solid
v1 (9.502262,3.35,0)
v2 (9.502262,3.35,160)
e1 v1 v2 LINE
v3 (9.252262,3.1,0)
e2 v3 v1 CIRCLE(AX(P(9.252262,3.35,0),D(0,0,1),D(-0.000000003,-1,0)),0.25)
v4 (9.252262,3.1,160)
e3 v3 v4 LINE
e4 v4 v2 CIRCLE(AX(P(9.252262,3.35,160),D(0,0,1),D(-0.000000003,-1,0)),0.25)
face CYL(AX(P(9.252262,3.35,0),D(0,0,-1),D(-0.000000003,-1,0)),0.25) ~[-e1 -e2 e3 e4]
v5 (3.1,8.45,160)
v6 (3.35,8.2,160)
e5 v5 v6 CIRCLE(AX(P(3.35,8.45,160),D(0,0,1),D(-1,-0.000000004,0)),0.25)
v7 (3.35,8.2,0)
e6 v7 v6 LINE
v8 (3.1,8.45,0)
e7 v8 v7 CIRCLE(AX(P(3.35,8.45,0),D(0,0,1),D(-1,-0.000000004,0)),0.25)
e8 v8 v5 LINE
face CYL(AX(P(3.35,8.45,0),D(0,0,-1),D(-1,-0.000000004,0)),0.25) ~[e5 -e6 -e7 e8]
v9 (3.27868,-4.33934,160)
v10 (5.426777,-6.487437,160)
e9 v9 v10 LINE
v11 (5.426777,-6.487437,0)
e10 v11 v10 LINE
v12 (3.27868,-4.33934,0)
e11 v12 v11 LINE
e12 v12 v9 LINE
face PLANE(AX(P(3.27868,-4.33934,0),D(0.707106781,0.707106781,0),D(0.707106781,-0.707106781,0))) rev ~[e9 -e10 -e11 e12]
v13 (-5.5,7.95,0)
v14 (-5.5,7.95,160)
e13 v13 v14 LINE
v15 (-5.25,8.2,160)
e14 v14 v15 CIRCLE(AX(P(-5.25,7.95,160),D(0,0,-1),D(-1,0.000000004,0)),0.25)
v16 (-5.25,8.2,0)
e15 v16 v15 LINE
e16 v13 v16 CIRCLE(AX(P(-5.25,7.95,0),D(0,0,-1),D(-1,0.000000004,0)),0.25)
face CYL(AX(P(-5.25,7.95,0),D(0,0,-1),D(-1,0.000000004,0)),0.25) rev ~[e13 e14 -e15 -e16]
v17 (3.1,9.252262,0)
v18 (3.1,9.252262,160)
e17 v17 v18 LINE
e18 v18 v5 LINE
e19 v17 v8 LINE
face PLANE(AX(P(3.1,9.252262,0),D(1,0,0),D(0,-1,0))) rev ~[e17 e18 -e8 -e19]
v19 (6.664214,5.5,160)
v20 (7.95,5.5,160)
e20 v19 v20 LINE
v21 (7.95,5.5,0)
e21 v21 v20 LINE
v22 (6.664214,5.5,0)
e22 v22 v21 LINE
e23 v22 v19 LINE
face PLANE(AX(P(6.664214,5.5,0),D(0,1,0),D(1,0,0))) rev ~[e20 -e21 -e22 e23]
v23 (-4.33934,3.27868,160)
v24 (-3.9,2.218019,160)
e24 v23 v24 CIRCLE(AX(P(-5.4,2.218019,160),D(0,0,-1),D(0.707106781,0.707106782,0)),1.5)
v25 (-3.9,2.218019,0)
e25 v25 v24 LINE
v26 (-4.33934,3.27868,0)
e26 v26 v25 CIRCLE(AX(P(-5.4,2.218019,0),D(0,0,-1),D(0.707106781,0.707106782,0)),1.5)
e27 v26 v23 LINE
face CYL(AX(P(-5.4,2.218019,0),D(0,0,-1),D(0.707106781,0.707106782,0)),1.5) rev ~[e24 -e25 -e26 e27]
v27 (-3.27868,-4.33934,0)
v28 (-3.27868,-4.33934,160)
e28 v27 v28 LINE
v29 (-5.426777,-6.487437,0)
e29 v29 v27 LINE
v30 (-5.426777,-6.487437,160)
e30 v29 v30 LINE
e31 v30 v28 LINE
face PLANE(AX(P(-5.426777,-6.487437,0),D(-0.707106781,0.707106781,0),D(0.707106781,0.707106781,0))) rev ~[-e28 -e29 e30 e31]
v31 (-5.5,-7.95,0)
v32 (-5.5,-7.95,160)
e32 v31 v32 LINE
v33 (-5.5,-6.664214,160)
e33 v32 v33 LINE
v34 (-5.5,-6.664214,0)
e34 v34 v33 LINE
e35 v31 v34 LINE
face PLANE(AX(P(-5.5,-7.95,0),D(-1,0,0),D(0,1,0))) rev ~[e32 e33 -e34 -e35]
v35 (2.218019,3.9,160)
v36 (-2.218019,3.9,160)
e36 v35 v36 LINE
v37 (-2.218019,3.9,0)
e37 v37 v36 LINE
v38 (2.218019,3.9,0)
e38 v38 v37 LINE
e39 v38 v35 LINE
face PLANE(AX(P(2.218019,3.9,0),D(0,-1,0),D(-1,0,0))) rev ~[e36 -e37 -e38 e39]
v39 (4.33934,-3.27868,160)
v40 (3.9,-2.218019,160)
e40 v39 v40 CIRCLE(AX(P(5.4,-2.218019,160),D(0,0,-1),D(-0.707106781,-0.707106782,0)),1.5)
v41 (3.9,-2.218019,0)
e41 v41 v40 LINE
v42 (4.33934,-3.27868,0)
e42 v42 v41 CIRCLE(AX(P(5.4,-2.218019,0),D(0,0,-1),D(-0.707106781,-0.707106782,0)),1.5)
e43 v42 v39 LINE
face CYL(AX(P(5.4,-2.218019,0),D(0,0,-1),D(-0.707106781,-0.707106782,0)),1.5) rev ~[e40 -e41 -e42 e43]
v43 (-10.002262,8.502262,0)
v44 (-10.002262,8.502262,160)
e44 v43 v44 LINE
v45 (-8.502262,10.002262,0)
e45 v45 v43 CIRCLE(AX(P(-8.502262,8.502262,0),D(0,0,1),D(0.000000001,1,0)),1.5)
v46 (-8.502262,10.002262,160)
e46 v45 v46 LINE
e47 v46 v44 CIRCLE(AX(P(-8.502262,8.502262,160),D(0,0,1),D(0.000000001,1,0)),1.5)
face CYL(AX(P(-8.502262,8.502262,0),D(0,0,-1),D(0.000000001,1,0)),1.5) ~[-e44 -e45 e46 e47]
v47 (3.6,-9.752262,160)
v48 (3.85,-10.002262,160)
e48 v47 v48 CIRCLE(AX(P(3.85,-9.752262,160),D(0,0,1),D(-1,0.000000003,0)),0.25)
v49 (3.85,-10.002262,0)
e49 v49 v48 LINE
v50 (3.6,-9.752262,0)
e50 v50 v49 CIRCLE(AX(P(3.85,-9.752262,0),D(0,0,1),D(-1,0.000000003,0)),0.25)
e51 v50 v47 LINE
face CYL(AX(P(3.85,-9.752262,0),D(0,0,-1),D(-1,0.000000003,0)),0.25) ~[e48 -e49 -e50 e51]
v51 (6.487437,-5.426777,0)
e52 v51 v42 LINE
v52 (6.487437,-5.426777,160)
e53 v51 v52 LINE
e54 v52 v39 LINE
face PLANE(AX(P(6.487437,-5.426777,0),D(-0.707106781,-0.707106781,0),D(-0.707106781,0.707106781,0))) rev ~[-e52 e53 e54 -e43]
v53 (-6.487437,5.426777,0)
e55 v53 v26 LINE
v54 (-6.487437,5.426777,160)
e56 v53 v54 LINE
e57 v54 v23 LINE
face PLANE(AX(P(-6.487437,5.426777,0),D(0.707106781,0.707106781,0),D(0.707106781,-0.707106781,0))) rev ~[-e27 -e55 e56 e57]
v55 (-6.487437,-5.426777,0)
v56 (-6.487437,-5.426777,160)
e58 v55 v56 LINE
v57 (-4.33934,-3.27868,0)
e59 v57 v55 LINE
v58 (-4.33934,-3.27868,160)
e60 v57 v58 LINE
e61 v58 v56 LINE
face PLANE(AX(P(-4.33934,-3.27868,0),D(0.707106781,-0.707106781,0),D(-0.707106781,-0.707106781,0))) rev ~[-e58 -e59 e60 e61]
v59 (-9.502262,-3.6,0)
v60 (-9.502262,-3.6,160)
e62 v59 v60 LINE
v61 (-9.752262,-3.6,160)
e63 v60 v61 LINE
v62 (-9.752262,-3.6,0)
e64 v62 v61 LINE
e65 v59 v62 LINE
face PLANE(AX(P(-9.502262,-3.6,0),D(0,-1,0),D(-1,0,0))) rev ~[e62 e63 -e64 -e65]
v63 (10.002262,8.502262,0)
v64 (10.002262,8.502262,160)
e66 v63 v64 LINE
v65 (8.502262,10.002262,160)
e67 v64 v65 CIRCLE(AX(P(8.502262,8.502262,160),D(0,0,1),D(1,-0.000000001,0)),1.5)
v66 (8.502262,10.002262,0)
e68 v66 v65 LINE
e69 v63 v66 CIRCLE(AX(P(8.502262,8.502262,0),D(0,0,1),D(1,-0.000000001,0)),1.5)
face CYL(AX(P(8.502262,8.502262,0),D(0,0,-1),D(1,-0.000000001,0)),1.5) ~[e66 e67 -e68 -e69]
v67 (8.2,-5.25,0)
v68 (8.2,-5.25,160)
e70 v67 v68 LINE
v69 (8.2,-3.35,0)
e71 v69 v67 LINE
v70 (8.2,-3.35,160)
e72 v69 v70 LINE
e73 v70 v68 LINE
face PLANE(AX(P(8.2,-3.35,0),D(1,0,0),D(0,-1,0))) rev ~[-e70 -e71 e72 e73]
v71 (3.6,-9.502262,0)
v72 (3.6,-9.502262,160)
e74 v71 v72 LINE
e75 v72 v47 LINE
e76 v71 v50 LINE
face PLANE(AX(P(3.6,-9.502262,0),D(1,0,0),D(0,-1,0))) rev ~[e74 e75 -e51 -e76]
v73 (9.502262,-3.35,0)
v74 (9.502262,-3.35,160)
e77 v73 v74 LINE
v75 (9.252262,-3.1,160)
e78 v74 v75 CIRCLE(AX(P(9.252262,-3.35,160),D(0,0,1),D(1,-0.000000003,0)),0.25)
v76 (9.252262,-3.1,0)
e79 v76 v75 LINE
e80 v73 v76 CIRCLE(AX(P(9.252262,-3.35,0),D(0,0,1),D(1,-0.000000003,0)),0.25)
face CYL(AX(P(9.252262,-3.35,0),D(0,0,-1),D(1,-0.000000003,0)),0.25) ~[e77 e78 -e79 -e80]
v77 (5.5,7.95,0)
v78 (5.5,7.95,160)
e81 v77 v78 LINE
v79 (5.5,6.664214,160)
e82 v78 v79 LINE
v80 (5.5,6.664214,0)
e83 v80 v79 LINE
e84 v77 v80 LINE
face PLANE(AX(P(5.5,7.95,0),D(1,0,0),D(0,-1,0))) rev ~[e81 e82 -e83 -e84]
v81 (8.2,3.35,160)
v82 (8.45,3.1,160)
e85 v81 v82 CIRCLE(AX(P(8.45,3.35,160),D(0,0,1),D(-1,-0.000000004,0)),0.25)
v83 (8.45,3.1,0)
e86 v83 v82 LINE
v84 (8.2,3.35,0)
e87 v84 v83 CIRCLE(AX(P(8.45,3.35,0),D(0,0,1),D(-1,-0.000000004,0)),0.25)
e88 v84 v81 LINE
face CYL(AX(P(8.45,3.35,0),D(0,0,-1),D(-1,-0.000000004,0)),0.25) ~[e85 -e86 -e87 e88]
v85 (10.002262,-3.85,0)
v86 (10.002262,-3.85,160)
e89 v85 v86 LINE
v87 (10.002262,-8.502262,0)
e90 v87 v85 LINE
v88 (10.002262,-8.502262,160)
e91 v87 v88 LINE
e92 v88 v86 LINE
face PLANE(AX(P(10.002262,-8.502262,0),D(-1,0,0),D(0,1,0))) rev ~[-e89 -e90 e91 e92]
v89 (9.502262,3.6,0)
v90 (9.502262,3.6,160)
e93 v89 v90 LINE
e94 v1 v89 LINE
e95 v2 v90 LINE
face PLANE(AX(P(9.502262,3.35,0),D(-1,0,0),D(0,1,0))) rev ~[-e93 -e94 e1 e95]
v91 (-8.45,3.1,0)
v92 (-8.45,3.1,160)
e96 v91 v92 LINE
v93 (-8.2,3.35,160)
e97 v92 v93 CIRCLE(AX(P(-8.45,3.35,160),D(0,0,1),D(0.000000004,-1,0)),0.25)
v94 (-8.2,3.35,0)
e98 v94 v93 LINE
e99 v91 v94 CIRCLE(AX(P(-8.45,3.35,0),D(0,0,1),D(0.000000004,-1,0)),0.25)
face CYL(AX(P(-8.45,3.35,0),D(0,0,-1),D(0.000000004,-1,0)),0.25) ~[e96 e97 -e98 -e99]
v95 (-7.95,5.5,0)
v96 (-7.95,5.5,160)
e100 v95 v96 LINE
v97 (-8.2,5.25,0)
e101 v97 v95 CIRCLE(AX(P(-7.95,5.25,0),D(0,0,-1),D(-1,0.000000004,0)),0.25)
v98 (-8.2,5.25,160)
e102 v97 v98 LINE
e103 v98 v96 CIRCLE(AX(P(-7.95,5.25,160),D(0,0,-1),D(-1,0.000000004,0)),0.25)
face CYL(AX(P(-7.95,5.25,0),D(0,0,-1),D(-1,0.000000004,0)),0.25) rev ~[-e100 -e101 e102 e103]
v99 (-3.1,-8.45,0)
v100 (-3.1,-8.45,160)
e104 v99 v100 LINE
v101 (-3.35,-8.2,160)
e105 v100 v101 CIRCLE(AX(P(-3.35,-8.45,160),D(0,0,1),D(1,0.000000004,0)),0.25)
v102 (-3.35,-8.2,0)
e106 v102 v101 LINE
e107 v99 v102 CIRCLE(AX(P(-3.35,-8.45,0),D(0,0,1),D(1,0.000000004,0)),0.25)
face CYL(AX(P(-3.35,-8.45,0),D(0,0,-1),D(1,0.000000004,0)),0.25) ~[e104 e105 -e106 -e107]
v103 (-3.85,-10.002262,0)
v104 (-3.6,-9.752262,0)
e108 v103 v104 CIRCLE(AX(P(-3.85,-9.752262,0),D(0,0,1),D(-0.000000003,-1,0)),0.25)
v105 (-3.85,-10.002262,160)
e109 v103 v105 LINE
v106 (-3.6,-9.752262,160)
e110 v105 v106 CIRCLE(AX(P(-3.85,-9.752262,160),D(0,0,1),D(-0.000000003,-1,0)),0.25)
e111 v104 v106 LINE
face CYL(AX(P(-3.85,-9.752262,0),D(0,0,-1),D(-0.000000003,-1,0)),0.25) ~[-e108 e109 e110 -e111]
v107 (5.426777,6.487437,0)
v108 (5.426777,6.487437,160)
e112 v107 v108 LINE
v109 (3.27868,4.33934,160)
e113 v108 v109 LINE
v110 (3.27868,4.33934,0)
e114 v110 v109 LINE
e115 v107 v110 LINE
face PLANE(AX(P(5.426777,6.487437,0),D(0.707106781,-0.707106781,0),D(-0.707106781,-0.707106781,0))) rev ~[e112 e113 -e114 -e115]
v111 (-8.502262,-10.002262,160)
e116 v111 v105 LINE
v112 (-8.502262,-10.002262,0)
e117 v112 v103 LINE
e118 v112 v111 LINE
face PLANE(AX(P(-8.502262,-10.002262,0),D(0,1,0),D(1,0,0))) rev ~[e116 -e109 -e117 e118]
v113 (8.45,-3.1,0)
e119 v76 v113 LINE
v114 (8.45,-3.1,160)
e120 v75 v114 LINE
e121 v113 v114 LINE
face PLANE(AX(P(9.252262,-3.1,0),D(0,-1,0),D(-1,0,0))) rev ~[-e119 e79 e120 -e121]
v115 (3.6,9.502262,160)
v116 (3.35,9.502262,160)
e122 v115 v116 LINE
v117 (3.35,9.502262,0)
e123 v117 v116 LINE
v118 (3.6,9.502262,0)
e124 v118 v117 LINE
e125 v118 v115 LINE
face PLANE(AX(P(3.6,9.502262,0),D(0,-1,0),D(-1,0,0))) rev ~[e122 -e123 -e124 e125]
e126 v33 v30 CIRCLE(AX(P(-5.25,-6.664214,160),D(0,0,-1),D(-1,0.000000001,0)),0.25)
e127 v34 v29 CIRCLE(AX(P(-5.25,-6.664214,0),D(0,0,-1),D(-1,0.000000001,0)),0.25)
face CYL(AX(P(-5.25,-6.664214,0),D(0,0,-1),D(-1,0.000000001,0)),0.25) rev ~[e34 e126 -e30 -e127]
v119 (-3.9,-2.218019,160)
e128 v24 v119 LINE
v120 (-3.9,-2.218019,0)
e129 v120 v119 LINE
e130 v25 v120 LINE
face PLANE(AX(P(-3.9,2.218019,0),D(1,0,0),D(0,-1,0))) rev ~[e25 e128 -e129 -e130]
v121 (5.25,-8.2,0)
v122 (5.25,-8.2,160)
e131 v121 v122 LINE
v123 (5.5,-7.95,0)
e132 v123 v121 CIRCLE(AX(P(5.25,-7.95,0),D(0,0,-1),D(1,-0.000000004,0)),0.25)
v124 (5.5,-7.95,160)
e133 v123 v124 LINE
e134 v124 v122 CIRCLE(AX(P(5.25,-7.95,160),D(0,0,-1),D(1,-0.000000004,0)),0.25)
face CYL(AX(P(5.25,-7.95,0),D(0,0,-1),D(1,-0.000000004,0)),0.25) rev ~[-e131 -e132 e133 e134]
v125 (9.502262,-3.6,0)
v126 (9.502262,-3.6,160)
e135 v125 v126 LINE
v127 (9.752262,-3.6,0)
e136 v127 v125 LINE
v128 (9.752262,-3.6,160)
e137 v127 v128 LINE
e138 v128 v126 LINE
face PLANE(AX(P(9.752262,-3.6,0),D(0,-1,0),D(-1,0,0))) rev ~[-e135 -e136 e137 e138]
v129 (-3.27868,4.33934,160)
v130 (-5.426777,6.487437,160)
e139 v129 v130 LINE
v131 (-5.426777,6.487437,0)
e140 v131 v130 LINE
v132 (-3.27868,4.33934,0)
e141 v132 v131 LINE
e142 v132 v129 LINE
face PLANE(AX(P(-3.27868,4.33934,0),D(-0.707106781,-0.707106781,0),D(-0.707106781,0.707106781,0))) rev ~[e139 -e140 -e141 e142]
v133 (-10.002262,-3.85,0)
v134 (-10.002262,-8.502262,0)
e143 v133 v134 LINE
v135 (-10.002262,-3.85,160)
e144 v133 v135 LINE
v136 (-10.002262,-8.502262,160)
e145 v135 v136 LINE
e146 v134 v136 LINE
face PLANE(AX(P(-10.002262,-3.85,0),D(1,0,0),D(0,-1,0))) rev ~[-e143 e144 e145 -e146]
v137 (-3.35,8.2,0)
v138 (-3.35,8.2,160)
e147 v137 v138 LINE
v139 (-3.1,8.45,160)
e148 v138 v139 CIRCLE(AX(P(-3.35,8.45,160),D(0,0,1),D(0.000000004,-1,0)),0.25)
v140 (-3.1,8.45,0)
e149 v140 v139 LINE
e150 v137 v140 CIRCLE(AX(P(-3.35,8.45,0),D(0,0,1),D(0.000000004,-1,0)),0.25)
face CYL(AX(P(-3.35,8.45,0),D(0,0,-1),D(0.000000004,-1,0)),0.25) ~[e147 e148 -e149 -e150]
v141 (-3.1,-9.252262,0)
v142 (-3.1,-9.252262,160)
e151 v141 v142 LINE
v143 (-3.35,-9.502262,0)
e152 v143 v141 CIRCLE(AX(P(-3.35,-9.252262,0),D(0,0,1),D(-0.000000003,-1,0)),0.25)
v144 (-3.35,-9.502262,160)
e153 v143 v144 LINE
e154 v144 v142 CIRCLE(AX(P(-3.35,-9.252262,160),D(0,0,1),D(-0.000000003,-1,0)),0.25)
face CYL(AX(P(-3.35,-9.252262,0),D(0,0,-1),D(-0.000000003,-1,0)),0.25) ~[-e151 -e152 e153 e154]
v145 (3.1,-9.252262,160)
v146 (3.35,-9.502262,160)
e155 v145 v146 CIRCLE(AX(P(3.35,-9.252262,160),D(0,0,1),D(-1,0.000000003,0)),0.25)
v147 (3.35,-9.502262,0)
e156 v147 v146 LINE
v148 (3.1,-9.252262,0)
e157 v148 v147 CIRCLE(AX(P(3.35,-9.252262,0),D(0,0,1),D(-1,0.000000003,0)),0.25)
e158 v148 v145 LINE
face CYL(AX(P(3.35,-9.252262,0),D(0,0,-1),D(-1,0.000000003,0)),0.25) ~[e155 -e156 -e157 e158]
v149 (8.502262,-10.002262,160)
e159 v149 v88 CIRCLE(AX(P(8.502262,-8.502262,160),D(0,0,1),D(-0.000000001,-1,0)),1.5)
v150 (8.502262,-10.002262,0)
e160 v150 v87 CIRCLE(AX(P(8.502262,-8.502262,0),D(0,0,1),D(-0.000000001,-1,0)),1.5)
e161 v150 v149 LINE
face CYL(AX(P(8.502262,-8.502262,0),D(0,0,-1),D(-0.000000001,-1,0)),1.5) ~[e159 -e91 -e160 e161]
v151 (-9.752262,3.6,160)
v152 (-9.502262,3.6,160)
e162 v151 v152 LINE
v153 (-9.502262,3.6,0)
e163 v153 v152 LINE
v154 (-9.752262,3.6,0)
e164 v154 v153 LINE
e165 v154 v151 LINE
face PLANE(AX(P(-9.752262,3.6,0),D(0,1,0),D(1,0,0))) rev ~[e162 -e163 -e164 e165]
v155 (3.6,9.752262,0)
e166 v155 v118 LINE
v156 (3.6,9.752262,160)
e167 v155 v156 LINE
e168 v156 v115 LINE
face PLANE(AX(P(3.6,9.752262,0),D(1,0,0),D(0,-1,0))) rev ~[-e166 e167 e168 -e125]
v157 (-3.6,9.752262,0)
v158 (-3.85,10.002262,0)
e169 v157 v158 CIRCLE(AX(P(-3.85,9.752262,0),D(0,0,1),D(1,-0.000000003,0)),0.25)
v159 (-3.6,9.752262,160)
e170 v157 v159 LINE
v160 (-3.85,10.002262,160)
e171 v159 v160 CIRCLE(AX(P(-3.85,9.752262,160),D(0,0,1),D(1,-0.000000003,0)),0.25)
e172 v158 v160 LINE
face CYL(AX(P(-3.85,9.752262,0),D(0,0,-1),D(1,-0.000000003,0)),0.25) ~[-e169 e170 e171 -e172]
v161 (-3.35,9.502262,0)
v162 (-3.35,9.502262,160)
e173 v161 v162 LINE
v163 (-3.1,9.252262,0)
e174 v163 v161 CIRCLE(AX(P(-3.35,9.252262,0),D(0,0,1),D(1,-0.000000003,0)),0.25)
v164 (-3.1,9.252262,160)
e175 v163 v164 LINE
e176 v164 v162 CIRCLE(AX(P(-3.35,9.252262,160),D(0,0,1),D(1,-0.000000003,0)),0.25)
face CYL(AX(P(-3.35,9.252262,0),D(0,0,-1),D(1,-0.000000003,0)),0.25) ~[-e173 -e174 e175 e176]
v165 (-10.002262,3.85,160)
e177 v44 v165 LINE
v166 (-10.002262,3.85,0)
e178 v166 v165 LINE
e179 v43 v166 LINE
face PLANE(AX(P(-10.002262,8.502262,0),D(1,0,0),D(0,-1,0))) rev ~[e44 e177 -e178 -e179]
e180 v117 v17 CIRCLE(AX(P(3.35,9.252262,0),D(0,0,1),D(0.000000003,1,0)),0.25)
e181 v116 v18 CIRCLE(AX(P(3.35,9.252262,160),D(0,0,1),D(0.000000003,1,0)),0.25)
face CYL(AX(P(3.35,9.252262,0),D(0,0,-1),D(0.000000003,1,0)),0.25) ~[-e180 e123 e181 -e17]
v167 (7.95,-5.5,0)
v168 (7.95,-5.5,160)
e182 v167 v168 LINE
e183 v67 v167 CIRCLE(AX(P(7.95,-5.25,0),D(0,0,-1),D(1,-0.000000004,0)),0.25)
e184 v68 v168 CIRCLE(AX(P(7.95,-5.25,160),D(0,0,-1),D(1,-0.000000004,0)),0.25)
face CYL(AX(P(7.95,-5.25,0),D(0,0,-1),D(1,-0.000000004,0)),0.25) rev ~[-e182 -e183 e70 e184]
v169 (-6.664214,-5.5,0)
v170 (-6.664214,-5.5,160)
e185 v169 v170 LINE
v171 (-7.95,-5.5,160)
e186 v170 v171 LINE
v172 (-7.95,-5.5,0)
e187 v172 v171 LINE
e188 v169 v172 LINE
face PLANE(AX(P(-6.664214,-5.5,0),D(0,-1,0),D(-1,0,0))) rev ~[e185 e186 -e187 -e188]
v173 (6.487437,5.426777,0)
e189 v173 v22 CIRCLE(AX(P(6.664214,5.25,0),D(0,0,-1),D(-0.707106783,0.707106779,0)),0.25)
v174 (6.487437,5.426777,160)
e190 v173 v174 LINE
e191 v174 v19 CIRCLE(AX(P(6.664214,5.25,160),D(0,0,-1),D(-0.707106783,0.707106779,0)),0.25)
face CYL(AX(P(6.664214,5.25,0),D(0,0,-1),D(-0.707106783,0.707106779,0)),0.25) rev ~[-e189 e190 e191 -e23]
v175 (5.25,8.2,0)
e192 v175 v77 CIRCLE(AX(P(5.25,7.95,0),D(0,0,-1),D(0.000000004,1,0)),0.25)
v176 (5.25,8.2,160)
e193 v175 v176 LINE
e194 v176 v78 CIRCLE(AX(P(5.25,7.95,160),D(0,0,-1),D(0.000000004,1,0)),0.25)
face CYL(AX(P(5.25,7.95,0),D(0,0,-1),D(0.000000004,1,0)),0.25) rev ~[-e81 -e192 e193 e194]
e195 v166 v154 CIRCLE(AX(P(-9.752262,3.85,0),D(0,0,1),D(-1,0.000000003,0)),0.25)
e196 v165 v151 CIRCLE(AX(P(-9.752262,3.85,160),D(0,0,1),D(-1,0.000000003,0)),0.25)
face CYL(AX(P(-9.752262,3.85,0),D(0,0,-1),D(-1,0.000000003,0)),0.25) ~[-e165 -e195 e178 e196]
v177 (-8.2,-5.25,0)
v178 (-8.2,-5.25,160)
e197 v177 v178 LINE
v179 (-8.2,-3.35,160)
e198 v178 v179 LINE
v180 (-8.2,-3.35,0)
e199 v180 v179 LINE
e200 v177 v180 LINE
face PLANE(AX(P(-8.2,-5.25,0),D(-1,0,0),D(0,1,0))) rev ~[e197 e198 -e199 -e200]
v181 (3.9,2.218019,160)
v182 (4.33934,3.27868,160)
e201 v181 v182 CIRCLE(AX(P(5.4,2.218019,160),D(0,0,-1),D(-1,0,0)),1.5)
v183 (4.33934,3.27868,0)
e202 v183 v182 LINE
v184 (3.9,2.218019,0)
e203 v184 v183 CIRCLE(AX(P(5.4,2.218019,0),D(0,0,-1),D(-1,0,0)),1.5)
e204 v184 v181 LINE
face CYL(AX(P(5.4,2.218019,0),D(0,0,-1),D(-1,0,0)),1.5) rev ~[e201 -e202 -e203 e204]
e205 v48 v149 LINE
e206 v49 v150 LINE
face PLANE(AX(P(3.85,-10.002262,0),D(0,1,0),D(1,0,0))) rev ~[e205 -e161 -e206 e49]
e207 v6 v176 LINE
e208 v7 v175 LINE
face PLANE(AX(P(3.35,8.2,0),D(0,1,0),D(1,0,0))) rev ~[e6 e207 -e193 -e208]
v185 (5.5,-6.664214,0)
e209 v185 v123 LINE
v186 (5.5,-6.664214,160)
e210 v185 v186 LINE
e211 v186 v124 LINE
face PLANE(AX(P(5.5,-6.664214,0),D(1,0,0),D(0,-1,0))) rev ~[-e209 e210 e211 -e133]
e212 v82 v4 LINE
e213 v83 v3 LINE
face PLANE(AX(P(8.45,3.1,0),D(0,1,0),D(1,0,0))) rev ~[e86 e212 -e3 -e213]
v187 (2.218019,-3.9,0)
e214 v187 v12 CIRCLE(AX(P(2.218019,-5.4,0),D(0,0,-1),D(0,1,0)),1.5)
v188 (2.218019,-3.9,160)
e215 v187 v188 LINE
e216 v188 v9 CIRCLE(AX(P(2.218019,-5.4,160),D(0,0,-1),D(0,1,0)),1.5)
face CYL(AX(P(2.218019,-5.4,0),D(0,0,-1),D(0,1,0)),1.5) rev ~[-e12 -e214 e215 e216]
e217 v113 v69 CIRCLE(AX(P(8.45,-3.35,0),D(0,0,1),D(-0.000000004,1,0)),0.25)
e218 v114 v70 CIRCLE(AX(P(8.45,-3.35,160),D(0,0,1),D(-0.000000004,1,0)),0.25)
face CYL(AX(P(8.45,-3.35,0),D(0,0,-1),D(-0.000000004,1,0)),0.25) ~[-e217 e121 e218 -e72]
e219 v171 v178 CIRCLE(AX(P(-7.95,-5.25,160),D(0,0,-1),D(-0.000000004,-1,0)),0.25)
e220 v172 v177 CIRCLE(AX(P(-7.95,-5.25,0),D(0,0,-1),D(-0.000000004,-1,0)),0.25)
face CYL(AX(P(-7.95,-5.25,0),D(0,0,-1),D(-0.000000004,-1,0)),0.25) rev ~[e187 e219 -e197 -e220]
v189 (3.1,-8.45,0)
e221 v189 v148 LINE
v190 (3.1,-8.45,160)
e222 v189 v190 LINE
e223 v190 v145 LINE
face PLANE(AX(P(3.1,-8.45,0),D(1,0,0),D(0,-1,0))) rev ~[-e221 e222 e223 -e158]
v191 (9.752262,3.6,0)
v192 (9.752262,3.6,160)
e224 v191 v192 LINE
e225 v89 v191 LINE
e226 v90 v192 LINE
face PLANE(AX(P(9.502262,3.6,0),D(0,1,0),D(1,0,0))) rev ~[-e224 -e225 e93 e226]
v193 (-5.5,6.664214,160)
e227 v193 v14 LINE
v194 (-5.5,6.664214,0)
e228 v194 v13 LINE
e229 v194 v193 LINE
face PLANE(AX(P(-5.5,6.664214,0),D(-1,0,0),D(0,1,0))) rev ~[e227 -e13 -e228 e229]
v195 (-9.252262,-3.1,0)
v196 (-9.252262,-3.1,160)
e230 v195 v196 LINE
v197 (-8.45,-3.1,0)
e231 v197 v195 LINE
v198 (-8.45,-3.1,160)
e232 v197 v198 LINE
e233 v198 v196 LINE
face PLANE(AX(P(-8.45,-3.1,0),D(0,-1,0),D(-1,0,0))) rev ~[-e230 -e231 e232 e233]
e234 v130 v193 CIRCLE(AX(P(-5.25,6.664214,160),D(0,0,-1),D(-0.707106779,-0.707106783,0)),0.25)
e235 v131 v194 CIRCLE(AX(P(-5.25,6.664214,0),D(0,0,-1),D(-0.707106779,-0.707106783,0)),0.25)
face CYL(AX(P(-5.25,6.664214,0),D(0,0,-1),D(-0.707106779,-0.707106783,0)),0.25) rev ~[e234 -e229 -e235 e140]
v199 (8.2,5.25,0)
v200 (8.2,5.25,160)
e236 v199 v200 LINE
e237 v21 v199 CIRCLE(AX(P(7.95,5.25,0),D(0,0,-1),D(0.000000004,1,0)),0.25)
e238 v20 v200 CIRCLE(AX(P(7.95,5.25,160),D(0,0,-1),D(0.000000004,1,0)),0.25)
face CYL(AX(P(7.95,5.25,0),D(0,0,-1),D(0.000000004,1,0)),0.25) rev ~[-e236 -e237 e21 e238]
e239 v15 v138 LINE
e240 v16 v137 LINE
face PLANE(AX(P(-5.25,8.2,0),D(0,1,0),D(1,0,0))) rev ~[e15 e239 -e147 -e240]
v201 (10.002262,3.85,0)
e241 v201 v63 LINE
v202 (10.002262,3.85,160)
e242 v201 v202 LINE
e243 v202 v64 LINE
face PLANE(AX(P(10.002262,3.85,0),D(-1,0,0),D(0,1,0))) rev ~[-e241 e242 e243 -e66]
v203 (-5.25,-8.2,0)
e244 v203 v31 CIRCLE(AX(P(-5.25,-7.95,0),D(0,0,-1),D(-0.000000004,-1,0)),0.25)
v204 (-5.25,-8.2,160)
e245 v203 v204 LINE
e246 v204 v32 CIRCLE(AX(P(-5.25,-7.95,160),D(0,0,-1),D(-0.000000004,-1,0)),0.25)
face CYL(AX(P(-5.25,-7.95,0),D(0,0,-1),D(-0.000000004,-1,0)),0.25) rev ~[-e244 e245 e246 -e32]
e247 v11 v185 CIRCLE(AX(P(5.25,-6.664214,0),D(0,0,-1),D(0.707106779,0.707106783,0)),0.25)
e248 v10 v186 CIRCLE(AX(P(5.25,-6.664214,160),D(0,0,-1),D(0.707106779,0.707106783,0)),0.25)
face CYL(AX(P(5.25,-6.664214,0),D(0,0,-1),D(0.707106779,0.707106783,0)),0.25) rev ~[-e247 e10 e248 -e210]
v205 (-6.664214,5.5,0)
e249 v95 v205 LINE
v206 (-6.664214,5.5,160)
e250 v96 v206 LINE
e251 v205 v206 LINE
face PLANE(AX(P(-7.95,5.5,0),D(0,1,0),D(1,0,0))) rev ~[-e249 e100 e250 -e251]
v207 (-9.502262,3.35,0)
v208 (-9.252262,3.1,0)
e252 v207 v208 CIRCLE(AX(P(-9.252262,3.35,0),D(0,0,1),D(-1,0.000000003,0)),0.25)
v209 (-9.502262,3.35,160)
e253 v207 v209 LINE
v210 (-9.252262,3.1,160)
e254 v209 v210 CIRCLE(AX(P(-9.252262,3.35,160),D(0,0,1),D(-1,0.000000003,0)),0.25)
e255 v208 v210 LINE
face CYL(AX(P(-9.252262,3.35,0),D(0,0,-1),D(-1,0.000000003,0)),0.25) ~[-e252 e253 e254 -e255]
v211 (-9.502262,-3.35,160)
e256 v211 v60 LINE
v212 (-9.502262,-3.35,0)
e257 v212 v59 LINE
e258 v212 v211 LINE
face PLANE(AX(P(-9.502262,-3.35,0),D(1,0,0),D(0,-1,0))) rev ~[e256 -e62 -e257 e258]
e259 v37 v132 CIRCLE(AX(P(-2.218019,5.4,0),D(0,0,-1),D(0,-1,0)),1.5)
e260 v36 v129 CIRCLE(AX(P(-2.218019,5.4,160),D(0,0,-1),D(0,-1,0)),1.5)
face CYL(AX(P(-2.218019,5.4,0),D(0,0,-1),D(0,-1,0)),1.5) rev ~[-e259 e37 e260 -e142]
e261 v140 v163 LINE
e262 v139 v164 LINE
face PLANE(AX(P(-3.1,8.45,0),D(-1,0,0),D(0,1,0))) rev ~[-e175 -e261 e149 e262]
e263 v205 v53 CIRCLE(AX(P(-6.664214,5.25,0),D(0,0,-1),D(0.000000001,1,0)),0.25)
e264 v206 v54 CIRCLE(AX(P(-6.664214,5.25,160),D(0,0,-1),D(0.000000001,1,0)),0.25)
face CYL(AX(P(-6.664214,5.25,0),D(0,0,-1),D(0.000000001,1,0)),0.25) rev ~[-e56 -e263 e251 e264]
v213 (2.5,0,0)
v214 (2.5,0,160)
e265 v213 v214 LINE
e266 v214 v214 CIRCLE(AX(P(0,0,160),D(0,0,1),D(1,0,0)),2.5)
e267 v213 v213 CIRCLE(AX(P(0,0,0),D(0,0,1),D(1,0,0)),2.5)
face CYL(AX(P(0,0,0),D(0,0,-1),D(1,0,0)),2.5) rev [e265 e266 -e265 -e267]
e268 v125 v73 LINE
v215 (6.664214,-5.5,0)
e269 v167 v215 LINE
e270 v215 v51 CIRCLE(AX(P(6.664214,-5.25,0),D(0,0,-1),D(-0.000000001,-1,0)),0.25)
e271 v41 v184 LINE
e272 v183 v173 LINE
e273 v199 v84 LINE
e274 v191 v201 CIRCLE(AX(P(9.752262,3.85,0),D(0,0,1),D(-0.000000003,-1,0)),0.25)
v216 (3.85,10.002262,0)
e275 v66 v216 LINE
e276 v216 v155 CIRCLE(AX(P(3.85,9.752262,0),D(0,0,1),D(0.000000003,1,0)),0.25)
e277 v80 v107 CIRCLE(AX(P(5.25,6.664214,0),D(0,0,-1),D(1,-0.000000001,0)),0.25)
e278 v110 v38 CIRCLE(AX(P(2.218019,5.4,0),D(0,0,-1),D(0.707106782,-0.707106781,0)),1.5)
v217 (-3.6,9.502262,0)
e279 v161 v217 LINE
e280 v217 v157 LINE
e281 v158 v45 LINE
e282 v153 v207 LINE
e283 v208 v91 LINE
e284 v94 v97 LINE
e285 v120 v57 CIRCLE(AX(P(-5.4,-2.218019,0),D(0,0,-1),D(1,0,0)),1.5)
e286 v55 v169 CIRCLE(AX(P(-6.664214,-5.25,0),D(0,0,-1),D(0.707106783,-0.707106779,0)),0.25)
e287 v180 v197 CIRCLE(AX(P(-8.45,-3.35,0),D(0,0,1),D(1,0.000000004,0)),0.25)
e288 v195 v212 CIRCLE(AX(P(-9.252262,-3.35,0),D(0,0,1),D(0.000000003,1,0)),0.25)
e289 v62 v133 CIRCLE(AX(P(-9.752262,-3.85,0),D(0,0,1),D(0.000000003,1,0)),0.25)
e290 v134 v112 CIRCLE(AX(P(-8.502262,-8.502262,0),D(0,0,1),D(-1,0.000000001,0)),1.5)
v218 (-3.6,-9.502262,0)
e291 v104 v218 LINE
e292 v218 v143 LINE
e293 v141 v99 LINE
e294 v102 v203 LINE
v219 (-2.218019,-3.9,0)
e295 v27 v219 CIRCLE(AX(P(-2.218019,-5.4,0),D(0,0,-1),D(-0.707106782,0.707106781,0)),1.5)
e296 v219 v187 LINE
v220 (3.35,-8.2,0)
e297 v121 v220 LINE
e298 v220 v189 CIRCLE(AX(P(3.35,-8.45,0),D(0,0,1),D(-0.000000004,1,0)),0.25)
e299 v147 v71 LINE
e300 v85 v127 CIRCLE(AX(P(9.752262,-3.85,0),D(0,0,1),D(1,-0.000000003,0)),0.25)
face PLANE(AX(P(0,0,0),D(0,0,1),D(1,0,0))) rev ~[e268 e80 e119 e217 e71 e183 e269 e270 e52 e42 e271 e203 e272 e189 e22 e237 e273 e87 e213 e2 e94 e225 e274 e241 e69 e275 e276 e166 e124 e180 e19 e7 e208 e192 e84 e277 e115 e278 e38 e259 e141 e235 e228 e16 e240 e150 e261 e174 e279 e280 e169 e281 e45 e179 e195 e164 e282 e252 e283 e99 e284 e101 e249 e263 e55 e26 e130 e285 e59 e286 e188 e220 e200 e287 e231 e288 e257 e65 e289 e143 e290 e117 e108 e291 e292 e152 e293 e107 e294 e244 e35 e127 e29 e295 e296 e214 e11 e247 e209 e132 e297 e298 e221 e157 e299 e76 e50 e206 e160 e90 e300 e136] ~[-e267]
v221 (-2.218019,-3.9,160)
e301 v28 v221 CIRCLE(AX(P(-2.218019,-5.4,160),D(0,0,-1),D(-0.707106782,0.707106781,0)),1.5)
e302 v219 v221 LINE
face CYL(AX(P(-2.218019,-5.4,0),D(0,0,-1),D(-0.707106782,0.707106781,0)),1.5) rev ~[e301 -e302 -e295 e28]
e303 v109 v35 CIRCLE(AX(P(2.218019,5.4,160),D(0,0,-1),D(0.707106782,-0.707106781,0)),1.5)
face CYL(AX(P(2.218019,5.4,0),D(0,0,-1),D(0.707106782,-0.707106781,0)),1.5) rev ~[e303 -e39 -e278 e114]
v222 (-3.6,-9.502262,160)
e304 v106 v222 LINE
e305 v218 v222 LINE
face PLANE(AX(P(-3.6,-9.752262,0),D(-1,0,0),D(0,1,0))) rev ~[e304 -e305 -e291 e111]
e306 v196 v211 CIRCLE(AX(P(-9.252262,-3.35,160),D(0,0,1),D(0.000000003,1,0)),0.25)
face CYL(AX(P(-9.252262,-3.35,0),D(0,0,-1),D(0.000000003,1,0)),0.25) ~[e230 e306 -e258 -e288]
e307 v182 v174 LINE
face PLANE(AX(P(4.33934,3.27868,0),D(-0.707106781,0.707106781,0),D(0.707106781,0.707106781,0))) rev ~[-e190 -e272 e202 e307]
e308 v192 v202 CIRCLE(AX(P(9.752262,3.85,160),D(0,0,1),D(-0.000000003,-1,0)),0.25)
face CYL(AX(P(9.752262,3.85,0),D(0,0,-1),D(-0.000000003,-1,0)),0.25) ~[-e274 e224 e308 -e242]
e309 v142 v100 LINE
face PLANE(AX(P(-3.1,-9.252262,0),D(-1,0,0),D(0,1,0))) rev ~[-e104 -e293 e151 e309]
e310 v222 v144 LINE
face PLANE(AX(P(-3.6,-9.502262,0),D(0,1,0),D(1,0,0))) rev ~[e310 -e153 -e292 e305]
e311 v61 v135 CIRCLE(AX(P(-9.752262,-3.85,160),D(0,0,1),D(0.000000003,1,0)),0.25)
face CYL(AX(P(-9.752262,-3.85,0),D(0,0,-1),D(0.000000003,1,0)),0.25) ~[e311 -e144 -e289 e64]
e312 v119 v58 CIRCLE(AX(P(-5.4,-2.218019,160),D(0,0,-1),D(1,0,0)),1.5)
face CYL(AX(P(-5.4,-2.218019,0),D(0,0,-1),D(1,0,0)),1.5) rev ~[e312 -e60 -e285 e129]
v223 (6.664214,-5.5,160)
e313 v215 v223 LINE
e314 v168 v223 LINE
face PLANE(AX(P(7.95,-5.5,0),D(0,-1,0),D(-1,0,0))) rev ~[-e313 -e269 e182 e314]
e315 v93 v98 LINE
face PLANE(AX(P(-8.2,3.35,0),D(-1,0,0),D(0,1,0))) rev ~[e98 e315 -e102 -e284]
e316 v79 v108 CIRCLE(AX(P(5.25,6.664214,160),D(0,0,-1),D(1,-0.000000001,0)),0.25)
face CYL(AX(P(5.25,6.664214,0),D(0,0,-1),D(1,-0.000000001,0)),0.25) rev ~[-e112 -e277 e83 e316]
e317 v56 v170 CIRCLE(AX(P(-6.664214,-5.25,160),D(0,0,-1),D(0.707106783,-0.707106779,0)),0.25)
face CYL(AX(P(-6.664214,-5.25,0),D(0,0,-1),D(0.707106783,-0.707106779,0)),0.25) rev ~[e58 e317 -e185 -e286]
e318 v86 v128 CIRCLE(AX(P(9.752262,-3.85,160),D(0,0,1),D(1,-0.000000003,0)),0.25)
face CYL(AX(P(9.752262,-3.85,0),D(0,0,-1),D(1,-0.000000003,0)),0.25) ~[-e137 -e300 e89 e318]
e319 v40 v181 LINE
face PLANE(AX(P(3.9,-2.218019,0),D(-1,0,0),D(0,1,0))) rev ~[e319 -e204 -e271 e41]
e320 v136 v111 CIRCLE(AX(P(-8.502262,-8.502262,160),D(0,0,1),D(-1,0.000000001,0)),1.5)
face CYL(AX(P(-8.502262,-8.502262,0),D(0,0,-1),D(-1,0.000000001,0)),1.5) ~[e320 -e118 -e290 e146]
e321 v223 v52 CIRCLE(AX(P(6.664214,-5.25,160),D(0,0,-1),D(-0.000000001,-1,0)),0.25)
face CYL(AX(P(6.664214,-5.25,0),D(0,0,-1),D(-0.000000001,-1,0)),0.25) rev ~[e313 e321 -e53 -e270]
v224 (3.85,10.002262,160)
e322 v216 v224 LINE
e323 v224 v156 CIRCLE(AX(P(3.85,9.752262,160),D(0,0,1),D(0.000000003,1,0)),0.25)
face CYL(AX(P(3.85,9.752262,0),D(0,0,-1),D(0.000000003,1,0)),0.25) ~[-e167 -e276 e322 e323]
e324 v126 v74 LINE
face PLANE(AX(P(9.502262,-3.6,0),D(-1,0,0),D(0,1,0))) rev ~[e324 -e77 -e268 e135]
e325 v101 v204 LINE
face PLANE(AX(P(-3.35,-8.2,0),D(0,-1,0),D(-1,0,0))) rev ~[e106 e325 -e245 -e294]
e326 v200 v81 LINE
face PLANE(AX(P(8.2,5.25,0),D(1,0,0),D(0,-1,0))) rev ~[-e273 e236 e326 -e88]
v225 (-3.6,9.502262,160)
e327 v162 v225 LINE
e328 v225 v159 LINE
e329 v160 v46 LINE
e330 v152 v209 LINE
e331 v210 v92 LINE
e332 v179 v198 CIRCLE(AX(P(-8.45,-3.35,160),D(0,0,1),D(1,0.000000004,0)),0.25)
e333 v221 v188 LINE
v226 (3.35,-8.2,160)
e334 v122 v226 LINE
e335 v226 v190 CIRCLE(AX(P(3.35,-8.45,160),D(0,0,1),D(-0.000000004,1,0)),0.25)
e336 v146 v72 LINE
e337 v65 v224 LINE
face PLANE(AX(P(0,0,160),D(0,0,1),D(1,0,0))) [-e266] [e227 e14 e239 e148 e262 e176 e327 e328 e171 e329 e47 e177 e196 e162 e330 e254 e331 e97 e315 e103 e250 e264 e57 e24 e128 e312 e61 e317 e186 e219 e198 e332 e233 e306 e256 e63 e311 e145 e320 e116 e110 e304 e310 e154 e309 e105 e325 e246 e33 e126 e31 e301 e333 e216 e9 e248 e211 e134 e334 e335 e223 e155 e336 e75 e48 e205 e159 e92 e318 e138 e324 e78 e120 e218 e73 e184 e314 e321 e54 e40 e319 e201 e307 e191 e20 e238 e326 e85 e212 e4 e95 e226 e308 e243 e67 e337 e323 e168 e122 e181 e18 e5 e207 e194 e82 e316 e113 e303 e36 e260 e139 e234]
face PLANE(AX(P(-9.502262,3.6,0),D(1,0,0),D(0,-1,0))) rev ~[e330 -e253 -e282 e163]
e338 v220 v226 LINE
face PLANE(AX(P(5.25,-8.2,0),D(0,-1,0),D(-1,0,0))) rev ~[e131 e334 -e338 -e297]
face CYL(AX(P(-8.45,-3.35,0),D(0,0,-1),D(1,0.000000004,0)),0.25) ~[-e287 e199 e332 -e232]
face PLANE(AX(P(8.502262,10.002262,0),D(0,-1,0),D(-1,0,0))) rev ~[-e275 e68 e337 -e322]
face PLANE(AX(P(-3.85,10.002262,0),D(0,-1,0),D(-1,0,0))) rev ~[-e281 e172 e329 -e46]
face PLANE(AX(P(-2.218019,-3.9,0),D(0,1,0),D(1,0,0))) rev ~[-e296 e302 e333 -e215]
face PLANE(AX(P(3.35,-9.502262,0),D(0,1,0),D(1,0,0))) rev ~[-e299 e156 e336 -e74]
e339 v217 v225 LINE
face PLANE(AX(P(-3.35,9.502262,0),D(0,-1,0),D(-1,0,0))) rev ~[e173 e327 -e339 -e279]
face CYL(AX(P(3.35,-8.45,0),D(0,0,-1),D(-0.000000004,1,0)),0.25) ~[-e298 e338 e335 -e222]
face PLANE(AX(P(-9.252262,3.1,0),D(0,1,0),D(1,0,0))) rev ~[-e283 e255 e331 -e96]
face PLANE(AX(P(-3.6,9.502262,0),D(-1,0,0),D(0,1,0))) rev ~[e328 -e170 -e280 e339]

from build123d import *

# Parameters (mm, degrees)
SKETCH_1_R      = 2.5
EXTRUDE_1_DEPTH = 160


with BuildPart() as part:
    # 草图1 → 凸台-拉伸1 (new body)
    with BuildSketch(Plane.XY):
        with BuildLine():
            Line((-8.502261885, -10.002261885), (-3.85, -10.002261885))
            ThreePointArc((-3.85, -10.002261885), (-3.673223305, -9.929038581), (-3.6, -9.752261885))
            Line((-3.6, -9.752261885), (-3.6, -9.502261885))
            Line((-3.6, -9.502261885), (-3.35, -9.502261885))
            ThreePointArc((-3.35, -9.502261885), (-3.173223305, -9.429038581), (-3.1, -9.252261885))
            Line((-3.1, -9.252261885), (-3.1, -8.45))
            ThreePointArc((-3.1, -8.45), (-3.173223305, -8.273223305), (-3.35, -8.2))
            Line((-3.35, -8.2), (-5.25, -8.2))
            ThreePointArc((-5.25, -8.2), (-5.426776695, -8.126776695), (-5.5, -7.95))
            Line((-5.5, -7.95), (-5.5, -6.664213562))
            ThreePointArc((-5.5, -6.664213562), (-5.480969883, -6.568542704), (-5.426776695, -6.487436867))
            Line((-5.426776695, -6.487436867), (-3.278679656, -4.339339828))
            ThreePointArc((-3.278679656, -4.339339828), (-2.792044633, -4.014180701), (-2.218019485, -3.9))
            Line((-2.218019485, -3.9), (2.218019485, -3.9))
            ThreePointArc((2.218019485, -3.9), (2.792044633, -4.014180701), (3.278679656, -4.339339828))
            Line((3.278679656, -4.339339828), (5.426776695, -6.487436867))
            ThreePointArc((5.426776695, -6.487436867), (5.480969883, -6.568542704), (5.5, -6.664213562))
            Line((5.5, -6.664213562), (5.5, -7.95))
            ThreePointArc((5.5, -7.95), (5.426776695, -8.126776695), (5.25, -8.2))
            Line((5.25, -8.2), (3.35, -8.2))
            ThreePointArc((3.35, -8.2), (3.173223305, -8.273223305), (3.1, -8.45))
            Line((3.1, -8.45), (3.1, -9.252261885))
            ThreePointArc((3.1, -9.252261885), (3.173223305, -9.429038581), (3.35, -9.502261885))
            Line((3.35, -9.502261885), (3.6, -9.502261885))
            Line((3.6, -9.502261885), (3.6, -9.752261885))
            ThreePointArc((3.6, -9.752261885), (3.673223305, -9.929038581), (3.85, -10.002261885))
            Line((3.85, -10.002261885), (8.502261885, -10.002261885))
            ThreePointArc((8.502261885, -10.002261885), (9.562922057, -9.562922057), (10.002261885, -8.502261885))
            Line((10.002261885, -8.502261885), (10.002261885, -3.85))
            ThreePointArc((10.002261885, -3.85), (9.929038581, -3.673223305), (9.752261885, -3.6))
            Line((9.752261885, -3.6), (9.502261885, -3.6))
            Line((9.502261885, -3.6), (9.502261885, -3.35))
            ThreePointArc((9.502261885, -3.35), (9.429038581, -3.173223305), (9.252261885, -3.1))
            Line((9.252261885, -3.1), (8.45, -3.1))
            ThreePointArc((8.45, -3.1), (8.273223305, -3.173223305), (8.2, -3.35))
            Line((8.2, -3.35), (8.2, -5.25))
            ThreePointArc((8.2, -5.25), (8.126776695, -5.426776695), (7.95, -5.5))
            Line((7.95, -5.5), (6.664213562, -5.5))
            ThreePointArc((6.664213562, -5.5), (6.568542704, -5.480969883), (6.487436867, -5.426776695))
            Line((6.487436867, -5.426776695), (4.339339828, -3.278679656))
            ThreePointArc((4.339339828, -3.278679656), (4.014180701, -2.792044633), (3.9, -2.218019485))
            Line((3.9, -2.218019485), (3.9, 2.218019485))
            ThreePointArc((3.9, 2.218019485), (4.014180701, 2.792044633), (4.339339828, 3.278679656))
            Line((4.339339828, 3.278679656), (6.487436867, 5.426776695))
            ThreePointArc((6.487436867, 5.426776695), (6.568542704, 5.480969883), (6.664213562, 5.5))
            Line((6.664213562, 5.5), (7.95, 5.5))
            ThreePointArc((7.95, 5.5), (8.126776695, 5.426776695), (8.2, 5.25))
            Line((8.2, 5.25), (8.2, 3.35))
            ThreePointArc((8.2, 3.35), (8.273223305, 3.173223305), (8.45, 3.1))
            Line((8.45, 3.1), (9.252261885, 3.1))
            ThreePointArc((9.252261885, 3.1), (9.429038581, 3.173223305), (9.502261885, 3.35))
            Line((9.502261885, 3.35), (9.502261885, 3.6))
            Line((9.502261885, 3.6), (9.752261885, 3.6))
            ThreePointArc((9.752261885, 3.6), (9.929038581, 3.673223305), (10.002261885, 3.85))
            Line((10.002261885, 3.85), (10.002261885, 8.502261885))
            ThreePointArc((10.002261885, 8.502261885), (9.562922057, 9.562922057), (8.502261885, 10.002261885))
            Line((8.502261885, 10.002261885), (3.85, 10.002261885))
            ThreePointArc((3.85, 10.002261885), (3.673223305, 9.929038581), (3.6, 9.752261885))
            Line((3.6, 9.752261885), (3.6, 9.502261885))
            Line((3.6, 9.502261885), (3.35, 9.502261885))
            ThreePointArc((3.35, 9.502261885), (3.173223305, 9.429038581), (3.1, 9.252261885))
            Line((3.1, 9.252261885), (3.1, 8.45))
            ThreePointArc((3.1, 8.45), (3.173223305, 8.273223305), (3.35, 8.2))
            Line((3.35, 8.2), (5.25, 8.2))
            ThreePointArc((5.25, 8.2), (5.426776695, 8.126776695), (5.5, 7.95))
            Line((5.5, 7.95), (5.5, 6.664213562))
            ThreePointArc((5.5, 6.664213562), (5.480969883, 6.568542704), (5.426776695, 6.487436867))
            Line((5.426776695, 6.487436867), (3.278679656, 4.339339828))
            ThreePointArc((3.278679656, 4.339339828), (2.792044633, 4.014180701), (2.218019485, 3.9))
            Line((2.218019485, 3.9), (-2.218019485, 3.9))
            ThreePointArc((-2.218019485, 3.9), (-2.792044633, 4.014180701), (-3.278679656, 4.339339828))
            Line((-3.278679656, 4.339339828), (-5.426776695, 6.487436867))
            ThreePointArc((-5.426776695, 6.487436867), (-5.480969883, 6.568542704), (-5.5, 6.664213562))
            Line((-5.5, 6.664213562), (-5.5, 7.95))
            ThreePointArc((-5.5, 7.95), (-5.426776695, 8.126776695), (-5.25, 8.2))
            Line((-5.25, 8.2), (-3.35, 8.2))
            ThreePointArc((-3.35, 8.2), (-3.173223305, 8.273223305), (-3.1, 8.45))
            Line((-3.1, 8.45), (-3.1, 9.252261885))
            ThreePointArc((-3.1, 9.252261885), (-3.173223305, 9.429038581), (-3.35, 9.502261885))
            Line((-3.35, 9.502261885), (-3.6, 9.502261885))
            Line((-3.6, 9.502261885), (-3.6, 9.752261885))
            ThreePointArc((-3.6, 9.752261885), (-3.673223305, 9.929038581), (-3.85, 10.002261885))
            Line((-3.85, 10.002261885), (-8.502261885, 10.002261885))
            ThreePointArc((-8.502261885, 10.002261885), (-9.562922057, 9.562922057), (-10.002261885, 8.502261885))
            Line((-10.002261885, 8.502261885), (-10.002261885, 3.85))
            ThreePointArc((-10.002261885, 3.85), (-9.929038581, 3.673223305), (-9.752261885, 3.6))
            Line((-9.752261885, 3.6), (-9.502261885, 3.6))
            Line((-9.502261885, 3.6), (-9.502261885, 3.35))
            ThreePointArc((-9.502261885, 3.35), (-9.429038581, 3.173223305), (-9.252261885, 3.1))
            Line((-9.252261885, 3.1), (-8.45, 3.1))
            ThreePointArc((-8.45, 3.1), (-8.273223305, 3.173223305), (-8.2, 3.35))
            Line((-8.2, 3.35), (-8.2, 5.25))
            ThreePointArc((-8.2, 5.25), (-8.126776695, 5.426776695), (-7.95, 5.5))
            Line((-7.95, 5.5), (-6.664213562, 5.5))
            ThreePointArc((-6.664213562, 5.5), (-6.568542704, 5.480969883), (-6.487436867, 5.426776695))
            Line((-6.487436867, 5.426776695), (-4.339339828, 3.278679656))
            ThreePointArc((-4.339339828, 3.278679656), (-4.014180701, 2.792044633), (-3.9, 2.218019485))
            Line((-3.9, 2.218019485), (-3.9, -2.218019485))
            ThreePointArc((-3.9, -2.218019485), (-4.014180701, -2.792044633), (-4.339339828, -3.278679656))
            Line((-4.339339828, -3.278679656), (-6.487436867, -5.426776695))
            ThreePointArc((-6.487436867, -5.426776695), (-6.568542704, -5.480969883), (-6.664213562, -5.5))
            Line((-6.664213562, -5.5), (-7.95, -5.5))
            ThreePointArc((-7.95, -5.5), (-8.126776695, -5.426776695), (-8.2, -5.25))
            Line((-8.2, -5.25), (-8.2, -3.35))
            ThreePointArc((-8.2, -3.35), (-8.273223305, -3.173223305), (-8.45, -3.1))
            Line((-8.45, -3.1), (-9.252261885, -3.1))
            ThreePointArc((-9.252261885, -3.1), (-9.429038581, -3.173223305), (-9.502261885, -3.35))
            Line((-9.502261885, -3.35), (-9.502261885, -3.6))
            Line((-9.502261885, -3.6), (-9.752261885, -3.6))
            ThreePointArc((-9.752261885, -3.6), (-9.929038581, -3.673223305), (-10.002261885, -3.85))
            Line((-10.002261885, -3.85), (-10.002261885, -8.502261885))
            ThreePointArc((-10.002261885, -8.502261885), (-9.562922057, -9.562922057), (-8.502261885, -10.002261885))
        make_face()
        Circle(SKETCH_1_R, mode=Mode.SUBTRACT)
    extrude(amount=EXTRUDE_1_DEPTH)


solid = part.part
